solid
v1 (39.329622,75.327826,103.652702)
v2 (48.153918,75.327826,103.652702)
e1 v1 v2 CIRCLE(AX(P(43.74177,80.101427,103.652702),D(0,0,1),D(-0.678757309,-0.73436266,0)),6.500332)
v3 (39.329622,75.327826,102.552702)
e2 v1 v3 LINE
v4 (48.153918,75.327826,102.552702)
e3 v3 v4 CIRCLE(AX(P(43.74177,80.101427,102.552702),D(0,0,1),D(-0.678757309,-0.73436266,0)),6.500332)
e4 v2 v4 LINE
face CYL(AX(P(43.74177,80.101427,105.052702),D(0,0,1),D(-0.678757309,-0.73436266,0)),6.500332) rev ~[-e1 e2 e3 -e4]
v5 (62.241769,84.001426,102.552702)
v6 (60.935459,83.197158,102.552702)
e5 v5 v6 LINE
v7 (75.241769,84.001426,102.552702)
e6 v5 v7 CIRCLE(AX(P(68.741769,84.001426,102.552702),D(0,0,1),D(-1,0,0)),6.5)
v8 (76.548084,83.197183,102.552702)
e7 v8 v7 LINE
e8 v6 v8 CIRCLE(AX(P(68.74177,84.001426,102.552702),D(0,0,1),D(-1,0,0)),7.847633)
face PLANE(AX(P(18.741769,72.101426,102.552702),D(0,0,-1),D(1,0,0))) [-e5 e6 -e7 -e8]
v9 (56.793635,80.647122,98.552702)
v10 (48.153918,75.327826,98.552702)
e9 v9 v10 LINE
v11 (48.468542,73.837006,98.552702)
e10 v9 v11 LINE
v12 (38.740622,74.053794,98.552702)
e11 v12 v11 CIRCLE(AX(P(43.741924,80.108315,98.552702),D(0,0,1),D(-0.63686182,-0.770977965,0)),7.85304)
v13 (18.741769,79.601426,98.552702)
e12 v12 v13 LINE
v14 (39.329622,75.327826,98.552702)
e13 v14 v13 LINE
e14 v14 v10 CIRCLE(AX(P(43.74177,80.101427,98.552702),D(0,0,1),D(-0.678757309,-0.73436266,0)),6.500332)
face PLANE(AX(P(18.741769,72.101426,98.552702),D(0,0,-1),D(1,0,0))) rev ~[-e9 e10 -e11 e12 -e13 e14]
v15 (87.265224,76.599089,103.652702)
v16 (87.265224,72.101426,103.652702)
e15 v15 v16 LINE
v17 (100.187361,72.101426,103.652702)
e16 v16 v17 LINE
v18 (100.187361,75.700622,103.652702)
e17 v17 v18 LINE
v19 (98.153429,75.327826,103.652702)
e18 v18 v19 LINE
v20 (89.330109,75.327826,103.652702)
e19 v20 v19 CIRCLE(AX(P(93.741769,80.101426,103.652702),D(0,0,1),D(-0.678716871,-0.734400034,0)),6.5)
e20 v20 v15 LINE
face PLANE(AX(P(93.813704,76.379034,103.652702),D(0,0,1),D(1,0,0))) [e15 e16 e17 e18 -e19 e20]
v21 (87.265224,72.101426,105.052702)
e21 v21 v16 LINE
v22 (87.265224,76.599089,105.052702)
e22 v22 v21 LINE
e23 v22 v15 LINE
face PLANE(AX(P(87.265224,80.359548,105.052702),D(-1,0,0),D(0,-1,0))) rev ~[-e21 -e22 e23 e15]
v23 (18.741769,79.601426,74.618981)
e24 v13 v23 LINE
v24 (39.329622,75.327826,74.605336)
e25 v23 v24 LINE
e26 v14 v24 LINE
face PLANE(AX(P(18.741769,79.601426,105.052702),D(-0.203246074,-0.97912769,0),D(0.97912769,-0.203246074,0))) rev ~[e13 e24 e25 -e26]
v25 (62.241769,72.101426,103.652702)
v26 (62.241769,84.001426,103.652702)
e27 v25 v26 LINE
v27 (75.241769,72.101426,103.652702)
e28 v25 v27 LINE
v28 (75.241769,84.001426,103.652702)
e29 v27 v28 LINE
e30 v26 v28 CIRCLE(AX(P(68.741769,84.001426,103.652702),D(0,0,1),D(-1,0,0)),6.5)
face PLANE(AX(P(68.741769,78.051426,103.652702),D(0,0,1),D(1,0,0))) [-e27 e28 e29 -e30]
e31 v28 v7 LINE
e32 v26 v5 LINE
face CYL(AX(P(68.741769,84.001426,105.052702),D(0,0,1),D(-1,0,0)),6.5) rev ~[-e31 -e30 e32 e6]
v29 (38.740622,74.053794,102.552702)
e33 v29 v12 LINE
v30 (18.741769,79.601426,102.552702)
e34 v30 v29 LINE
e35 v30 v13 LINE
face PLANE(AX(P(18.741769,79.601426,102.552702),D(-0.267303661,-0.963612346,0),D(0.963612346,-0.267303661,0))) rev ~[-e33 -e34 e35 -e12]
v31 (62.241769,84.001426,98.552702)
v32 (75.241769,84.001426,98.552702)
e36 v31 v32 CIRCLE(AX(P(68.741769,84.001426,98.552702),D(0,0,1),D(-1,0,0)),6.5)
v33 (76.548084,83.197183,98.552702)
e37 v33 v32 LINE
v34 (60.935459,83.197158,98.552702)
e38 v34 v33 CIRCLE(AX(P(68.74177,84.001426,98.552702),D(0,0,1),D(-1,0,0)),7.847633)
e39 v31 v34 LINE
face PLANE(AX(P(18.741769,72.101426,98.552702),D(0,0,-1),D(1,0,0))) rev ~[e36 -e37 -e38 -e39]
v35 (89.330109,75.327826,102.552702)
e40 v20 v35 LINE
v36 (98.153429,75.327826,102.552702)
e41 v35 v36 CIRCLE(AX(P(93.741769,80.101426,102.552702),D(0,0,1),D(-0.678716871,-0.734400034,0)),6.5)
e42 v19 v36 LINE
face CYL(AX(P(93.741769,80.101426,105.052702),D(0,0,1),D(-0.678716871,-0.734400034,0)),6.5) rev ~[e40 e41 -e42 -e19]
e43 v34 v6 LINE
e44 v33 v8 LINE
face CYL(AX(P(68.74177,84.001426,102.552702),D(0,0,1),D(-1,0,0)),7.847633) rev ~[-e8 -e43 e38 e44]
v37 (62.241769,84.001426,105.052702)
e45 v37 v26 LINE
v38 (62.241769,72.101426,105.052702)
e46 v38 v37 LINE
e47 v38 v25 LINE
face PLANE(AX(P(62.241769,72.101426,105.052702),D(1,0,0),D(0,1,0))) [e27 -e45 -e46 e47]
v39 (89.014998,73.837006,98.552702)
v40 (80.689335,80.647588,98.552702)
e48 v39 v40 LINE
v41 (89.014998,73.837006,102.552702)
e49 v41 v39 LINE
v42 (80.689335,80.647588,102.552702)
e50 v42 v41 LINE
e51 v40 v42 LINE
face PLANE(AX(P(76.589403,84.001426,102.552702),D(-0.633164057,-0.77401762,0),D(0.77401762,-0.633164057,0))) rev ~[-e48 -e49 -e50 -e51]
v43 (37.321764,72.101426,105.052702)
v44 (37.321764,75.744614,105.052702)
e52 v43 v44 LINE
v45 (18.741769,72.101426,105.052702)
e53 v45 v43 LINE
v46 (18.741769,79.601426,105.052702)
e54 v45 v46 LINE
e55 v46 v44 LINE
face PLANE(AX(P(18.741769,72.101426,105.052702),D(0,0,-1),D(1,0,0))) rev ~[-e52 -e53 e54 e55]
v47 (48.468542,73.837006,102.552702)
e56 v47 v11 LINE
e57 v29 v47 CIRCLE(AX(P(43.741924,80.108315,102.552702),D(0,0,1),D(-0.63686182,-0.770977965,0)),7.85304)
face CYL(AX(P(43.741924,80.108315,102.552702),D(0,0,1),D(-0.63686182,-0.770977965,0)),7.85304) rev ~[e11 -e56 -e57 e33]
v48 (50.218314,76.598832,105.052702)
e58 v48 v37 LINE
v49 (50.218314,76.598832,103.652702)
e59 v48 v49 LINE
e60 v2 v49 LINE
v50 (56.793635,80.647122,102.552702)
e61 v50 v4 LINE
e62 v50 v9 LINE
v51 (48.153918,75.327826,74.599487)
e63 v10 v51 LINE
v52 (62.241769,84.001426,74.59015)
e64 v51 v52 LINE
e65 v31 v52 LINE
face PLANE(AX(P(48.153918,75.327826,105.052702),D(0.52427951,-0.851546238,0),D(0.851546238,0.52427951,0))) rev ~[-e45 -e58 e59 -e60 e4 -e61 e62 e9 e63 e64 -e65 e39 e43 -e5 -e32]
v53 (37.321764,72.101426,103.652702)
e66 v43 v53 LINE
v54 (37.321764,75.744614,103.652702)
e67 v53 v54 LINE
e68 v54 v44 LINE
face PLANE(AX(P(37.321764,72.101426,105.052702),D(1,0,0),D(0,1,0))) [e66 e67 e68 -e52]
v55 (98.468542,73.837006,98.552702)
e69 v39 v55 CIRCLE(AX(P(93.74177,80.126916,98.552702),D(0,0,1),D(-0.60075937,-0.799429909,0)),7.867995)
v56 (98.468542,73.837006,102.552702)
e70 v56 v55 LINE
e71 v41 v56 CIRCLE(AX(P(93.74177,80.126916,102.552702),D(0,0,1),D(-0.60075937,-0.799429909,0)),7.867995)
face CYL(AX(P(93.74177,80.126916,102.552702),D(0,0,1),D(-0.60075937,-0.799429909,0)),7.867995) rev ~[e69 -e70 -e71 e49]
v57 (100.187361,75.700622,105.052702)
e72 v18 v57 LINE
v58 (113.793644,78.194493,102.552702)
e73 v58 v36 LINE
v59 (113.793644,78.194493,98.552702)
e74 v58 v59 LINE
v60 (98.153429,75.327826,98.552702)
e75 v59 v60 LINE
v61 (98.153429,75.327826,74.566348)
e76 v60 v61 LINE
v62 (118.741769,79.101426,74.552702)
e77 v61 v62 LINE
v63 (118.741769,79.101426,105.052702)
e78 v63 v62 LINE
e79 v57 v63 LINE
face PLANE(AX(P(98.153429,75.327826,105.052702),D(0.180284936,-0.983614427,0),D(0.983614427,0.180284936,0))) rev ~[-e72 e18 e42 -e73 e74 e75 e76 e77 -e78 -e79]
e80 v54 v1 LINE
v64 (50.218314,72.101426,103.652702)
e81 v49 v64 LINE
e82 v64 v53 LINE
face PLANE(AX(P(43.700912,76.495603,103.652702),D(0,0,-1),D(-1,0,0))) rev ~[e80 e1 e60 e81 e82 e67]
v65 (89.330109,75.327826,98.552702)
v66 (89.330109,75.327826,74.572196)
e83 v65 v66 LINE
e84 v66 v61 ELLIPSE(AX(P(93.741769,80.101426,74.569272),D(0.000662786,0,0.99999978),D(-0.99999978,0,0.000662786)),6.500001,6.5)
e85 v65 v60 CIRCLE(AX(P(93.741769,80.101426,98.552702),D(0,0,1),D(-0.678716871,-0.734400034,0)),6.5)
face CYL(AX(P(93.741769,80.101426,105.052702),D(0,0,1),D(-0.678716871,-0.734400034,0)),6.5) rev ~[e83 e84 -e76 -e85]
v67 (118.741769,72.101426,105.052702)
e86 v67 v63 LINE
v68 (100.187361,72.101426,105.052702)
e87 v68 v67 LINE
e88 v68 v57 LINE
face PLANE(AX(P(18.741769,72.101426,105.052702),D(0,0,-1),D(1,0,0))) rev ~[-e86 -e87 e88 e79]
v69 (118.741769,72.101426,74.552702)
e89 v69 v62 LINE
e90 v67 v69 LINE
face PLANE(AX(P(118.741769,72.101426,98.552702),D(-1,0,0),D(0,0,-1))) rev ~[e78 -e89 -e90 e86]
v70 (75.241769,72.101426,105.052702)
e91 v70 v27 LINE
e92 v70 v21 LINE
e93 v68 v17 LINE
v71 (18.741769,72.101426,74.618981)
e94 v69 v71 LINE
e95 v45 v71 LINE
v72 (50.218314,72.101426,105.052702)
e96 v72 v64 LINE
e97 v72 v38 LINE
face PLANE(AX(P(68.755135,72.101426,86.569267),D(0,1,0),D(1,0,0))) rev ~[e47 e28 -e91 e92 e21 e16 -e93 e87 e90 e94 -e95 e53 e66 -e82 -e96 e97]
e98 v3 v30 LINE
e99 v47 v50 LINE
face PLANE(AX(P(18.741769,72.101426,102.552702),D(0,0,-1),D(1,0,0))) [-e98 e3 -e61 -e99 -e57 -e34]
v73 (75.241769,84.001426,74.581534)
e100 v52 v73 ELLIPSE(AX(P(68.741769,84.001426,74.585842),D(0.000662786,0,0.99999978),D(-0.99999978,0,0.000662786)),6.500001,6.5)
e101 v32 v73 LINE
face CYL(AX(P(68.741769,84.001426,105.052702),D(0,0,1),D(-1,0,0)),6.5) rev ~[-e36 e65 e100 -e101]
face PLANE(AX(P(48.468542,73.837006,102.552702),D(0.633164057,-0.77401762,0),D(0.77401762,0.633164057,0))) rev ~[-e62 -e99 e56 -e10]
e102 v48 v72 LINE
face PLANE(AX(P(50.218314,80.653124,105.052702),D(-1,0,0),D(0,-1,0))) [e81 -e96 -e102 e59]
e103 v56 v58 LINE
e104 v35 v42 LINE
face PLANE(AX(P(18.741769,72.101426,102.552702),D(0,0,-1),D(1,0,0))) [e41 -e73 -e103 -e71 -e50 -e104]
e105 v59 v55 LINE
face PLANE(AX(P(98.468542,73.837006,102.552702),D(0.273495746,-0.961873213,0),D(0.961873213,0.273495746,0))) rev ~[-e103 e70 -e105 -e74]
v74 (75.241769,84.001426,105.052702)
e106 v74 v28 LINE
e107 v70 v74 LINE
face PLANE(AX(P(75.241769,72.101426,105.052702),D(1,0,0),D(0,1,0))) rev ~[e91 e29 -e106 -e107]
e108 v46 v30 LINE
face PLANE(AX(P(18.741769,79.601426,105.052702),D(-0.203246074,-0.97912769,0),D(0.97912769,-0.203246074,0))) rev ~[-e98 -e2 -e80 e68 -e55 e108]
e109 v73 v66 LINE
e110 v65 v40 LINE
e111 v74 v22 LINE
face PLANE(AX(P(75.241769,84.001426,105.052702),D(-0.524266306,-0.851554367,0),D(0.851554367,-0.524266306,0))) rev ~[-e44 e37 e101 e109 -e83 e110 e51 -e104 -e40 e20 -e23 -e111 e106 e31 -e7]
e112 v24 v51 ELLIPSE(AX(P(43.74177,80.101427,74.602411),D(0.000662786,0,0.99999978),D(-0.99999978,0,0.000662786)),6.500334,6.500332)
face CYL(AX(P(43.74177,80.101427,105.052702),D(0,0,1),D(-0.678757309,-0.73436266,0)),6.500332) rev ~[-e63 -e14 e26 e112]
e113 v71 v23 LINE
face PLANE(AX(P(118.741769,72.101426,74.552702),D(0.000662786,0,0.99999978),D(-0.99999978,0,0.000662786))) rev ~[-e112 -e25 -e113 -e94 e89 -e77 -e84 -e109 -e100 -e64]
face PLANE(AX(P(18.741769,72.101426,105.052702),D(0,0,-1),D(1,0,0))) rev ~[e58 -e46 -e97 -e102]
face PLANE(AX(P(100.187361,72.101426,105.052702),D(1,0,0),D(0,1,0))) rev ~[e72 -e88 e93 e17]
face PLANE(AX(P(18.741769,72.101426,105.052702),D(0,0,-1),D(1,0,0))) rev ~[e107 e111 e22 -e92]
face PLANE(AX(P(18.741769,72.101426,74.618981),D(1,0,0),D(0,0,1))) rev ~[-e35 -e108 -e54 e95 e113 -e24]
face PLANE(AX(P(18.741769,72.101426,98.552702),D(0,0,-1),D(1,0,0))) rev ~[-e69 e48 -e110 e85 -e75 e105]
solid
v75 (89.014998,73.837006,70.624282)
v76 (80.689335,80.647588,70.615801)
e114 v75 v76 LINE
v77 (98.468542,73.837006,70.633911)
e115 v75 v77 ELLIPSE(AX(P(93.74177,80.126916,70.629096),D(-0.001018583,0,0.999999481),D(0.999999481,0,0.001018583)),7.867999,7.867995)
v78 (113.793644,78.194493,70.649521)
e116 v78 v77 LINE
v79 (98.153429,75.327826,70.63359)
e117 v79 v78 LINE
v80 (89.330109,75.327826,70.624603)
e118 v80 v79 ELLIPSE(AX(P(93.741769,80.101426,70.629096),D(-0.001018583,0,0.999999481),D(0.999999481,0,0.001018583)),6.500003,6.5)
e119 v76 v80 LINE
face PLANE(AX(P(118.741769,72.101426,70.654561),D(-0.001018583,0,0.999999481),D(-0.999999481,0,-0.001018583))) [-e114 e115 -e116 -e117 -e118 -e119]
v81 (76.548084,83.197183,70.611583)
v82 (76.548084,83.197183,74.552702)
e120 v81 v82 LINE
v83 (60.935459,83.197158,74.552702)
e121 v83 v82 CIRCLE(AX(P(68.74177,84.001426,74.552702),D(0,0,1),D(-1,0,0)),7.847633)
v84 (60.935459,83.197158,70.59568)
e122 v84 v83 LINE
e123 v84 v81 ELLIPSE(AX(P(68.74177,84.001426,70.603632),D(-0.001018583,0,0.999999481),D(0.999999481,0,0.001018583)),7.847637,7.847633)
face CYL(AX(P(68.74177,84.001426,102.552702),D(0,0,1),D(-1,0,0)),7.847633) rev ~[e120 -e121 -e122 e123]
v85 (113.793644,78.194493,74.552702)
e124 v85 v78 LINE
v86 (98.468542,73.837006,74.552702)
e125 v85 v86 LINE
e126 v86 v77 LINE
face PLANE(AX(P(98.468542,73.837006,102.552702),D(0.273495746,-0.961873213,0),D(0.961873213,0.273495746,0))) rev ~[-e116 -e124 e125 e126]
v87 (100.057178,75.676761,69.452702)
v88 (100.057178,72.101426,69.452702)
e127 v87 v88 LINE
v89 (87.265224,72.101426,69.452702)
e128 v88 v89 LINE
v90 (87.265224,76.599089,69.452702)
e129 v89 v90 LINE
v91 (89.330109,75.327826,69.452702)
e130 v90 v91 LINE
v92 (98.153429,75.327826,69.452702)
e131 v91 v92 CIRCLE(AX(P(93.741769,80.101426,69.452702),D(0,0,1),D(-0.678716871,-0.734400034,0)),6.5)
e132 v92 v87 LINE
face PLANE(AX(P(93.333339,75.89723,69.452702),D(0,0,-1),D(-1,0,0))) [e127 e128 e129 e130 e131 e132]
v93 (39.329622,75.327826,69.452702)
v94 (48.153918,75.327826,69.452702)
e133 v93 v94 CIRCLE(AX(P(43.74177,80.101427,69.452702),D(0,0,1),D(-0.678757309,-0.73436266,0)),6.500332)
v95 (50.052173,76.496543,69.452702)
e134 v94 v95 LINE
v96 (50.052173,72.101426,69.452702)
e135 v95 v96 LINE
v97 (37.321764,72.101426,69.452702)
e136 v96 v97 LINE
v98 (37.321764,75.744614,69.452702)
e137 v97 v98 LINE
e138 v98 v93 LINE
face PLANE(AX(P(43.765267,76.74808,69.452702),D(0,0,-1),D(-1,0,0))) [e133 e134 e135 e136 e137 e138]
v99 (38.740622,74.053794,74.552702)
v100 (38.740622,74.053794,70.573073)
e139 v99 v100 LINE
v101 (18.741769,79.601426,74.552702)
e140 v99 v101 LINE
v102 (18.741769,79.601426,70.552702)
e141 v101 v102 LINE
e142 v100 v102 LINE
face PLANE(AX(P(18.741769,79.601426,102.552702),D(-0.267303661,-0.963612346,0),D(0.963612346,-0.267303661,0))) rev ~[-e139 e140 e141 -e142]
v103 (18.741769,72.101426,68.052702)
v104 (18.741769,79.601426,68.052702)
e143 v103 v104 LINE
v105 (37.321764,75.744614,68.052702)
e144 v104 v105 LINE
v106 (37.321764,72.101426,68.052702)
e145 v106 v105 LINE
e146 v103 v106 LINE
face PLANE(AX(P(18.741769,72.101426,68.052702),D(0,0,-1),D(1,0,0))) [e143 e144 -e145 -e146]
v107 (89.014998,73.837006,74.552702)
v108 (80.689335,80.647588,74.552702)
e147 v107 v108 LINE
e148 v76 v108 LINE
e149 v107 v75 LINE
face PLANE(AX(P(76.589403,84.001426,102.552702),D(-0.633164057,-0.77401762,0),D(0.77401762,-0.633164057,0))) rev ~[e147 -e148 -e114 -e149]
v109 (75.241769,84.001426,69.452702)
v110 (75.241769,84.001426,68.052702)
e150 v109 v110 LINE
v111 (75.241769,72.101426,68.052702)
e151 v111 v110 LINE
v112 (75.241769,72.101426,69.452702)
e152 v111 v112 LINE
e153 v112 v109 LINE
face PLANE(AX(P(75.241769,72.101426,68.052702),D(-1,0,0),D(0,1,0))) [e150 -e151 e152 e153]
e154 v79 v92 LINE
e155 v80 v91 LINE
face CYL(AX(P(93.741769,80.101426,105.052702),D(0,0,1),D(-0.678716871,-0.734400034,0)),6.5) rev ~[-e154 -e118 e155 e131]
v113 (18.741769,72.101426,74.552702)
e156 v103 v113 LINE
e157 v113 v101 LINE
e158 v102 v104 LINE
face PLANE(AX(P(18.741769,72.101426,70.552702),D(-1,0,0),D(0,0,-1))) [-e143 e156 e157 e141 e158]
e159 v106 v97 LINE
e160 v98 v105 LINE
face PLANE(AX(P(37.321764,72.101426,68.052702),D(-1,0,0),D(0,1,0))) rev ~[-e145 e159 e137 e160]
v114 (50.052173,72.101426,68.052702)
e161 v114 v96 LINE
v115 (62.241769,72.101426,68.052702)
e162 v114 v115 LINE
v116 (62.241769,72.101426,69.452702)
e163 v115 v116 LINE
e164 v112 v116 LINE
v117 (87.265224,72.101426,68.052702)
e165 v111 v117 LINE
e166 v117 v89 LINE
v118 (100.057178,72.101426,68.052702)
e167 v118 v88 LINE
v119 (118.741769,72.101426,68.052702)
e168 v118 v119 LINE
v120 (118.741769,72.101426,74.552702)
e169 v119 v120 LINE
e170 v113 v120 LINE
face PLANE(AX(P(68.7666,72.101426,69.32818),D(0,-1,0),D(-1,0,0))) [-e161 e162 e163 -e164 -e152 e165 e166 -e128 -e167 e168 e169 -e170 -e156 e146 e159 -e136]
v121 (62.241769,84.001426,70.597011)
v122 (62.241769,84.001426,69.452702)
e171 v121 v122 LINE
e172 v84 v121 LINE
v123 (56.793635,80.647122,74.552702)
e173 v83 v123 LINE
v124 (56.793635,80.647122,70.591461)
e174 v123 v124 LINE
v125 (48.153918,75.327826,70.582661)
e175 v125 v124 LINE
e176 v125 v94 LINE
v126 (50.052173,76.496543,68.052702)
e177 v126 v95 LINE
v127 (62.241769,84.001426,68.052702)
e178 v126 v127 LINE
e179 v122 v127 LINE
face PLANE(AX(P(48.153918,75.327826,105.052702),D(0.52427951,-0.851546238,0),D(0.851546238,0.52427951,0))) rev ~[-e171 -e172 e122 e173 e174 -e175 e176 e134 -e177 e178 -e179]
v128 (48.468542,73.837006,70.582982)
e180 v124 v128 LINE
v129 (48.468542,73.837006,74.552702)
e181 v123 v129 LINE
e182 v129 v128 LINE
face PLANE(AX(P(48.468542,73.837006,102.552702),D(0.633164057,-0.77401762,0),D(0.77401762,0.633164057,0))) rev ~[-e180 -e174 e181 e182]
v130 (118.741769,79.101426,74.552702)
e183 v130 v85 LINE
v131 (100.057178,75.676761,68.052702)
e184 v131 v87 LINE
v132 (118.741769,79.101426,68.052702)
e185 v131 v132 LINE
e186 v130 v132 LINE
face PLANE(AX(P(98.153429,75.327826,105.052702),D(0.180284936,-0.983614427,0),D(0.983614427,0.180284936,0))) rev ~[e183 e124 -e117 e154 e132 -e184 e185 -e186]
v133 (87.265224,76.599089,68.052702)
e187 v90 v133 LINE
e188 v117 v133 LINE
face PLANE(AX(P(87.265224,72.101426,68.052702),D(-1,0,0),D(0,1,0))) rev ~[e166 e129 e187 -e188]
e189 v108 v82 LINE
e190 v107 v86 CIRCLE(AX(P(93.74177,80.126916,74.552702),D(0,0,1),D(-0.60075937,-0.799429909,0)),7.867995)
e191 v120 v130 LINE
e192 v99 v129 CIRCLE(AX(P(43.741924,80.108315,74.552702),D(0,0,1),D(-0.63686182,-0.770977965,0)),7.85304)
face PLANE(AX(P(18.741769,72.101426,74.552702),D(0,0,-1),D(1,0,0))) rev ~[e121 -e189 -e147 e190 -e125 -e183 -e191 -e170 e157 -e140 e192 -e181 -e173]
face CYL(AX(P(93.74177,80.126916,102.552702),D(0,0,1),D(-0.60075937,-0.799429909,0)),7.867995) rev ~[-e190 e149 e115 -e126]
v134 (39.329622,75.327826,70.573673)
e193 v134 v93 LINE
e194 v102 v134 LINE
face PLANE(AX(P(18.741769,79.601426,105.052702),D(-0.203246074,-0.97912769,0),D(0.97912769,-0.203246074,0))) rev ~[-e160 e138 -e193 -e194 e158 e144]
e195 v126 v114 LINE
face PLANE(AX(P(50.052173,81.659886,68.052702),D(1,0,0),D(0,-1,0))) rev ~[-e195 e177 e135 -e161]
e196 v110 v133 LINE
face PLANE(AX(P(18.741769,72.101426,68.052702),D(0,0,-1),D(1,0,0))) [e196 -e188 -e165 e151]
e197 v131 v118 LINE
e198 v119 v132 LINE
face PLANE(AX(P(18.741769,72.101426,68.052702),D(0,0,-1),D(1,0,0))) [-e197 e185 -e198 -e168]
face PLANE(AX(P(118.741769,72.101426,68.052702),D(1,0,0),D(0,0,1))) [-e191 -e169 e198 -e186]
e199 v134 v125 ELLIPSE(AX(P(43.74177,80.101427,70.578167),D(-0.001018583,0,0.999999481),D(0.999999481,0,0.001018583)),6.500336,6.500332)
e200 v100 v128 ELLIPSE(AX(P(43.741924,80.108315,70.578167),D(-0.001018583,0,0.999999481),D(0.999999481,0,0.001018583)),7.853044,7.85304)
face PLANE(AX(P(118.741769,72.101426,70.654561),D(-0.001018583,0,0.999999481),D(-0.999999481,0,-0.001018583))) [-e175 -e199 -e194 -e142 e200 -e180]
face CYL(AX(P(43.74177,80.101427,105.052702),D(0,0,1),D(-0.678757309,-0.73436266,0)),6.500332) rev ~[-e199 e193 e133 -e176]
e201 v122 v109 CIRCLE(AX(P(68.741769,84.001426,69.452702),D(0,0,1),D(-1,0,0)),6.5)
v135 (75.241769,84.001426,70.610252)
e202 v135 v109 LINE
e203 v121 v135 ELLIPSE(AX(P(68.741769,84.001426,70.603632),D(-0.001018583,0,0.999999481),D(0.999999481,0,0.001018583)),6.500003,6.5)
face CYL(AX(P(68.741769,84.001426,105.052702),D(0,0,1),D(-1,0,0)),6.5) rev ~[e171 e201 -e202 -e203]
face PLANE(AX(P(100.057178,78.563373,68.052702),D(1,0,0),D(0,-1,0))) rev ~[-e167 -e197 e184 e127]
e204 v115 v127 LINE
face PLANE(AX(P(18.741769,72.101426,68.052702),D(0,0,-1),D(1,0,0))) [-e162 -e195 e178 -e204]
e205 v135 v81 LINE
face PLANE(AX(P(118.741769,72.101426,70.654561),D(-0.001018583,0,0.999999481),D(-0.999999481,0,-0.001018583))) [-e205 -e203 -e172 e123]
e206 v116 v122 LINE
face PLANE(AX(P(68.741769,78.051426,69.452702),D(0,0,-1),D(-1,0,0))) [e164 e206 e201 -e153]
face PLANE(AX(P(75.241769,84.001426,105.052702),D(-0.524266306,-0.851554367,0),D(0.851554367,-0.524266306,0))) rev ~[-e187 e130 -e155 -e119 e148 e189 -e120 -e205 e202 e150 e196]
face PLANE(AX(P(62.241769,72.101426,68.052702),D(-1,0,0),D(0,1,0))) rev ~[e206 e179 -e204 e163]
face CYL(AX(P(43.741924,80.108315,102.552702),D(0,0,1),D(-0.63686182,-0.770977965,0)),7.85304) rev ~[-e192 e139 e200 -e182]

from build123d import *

# Parameters (mm, degrees)
SKETCH_1_W          = 100
SKETCH_1_H          = 4
EXTRUDE_1_DEPTH     = 15
EXTRUDE_1_2_DEPTH   = 15
CUT_EXTRUDE_1_DEPTH = 32
SKETCH_3_W          = 100
SKETCH_3_H          = 2.5
EXTRUDE_2_DEPTH     = 15
CUT_EXTRUDE_5_DEPTH = 37
SKETCH_5_W          = 13
SKETCH_5_H          = 11.9
CUT_EXTRUDE_6_DEPTH = 1.4
SKETCH_6_W          = 13
SKETCH_6_H          = 11.9
CUT_EXTRUDE_7_DEPTH = 1.4


with BuildPart() as part:
    # Эскиз1 → Бобышка-Вытянуть1 (new body)
    with BuildSketch(Plane(origin=(0, 72.101425994, 0), x_dir=(1, 0, 0), z_dir=(0, 1, 0))):
        with Locations((68.741769048, -100.552702475)):
            Rectangle(SKETCH_1_W, SKETCH_1_H)
    extrude(amount=EXTRUDE_1_DEPTH)


with BuildPart() as body_2:
    # Эскиз1 → Extrude 1 2 (new body)
    with BuildSketch(Plane(origin=(0, 72.101425994, 0), x_dir=(1, 0, 0), z_dir=(0, 1, 0))):
        with Locations((68.741769048, -72.552702475)):
            Rectangle(SKETCH_1_W, SKETCH_1_H)
    extrude(amount=EXTRUDE_1_2_DEPTH)


with BuildPart() as cut_extrude_1_tool:
    # Эскиз2 → Вырез-Вытянуть1 (new body)
    with BuildSketch(Plane.XY.offset(102.552702475)):
        with BuildLine():
            Line((18.741769048, 87.101425994), (18.741769048, 79.601425994))
            Line((18.741769048, 79.601425994), (38.7406223, 74.053793994))
            ThreePointArc((38.7406223, 74.053793994), (43.566960712, 72.257224124), (48.468541666, 73.837005729))
            Line((48.468541666, 73.837005729), (60.894137048, 84.001425994))
            ThreePointArc((60.894137048, 84.001425994), (68.741770048, 76.153792994), (76.589403048, 84.001425994))
            Line((76.589403048, 84.001425994), (89.014998431, 73.837005729))
            ThreePointArc((89.014998431, 73.837005729), (93.741770048, 72.25892129), (98.468541666, 73.837005729))
            Line((98.468541666, 73.837005729), (118.741769048, 79.601425994))
            Line((118.741769048, 79.601425994), (118.741769048, 87.101425994))
            Line((118.741769048, 87.101425994), (18.741769048, 87.101425994))
        make_face()
    extrude(amount=-CUT_EXTRUDE_1_DEPTH)


with BuildPart() as part_1:
    add(part.part)

    # Вырез-Вытянуть1: cut by cut_extrude_1_tool
    add(cut_extrude_1_tool.part, mode=Mode.SUBTRACT)



with BuildPart() as body_2_1:
    add(body_2.part)

    # Вырез-Вытянуть1: cut by cut_extrude_1_tool
    add(cut_extrude_1_tool.part, mode=Mode.SUBTRACT)


with BuildPart() as part_2:
    add(part_1.part)

    add(body_2_1.part)  # Бобышка-Вытянуть2 merges body 2
    # Эскиз3 → Бобышка-Вытянуть2 (add)
    with BuildSketch(Plane(origin=(0, 72.101425994, 0), x_dir=(1, 0, 0), z_dir=(0, 1, 0))):
        Polygon((18.741769048, -70.552702475), (18.741769048, -68.052702475), (118.741769048, -68.052702475), (118.741769048, -70.654560826), align=None)
        Polygon((18.741769048, -74.618981064), (18.741769048, -98.552702475), (118.741769048, -98.552702475), (118.741769048, -74.552702475), align=None)
        with Locations((68.741769048, -103.802702475)):
            Rectangle(SKETCH_3_W, SKETCH_3_H)
    extrude(amount=EXTRUDE_2_DEPTH)

    # Эскиз4 → Вырез-Вытянуть5 (cut)
    with BuildSketch(Plane.XY.offset(105.052702475)):
        with BuildLine():
            Line((18.741769048, 79.601425994), (39.329622083, 75.327825775))
            ThreePointArc((39.329622083, 75.327825775), (43.741770048, 73.601094828), (48.153918014, 75.327825775))
            Line((48.153918014, 75.327825775), (62.241769048, 84.001425994))
            ThreePointArc((62.241769048, 84.001425994), (68.741769048, 77.501425994), (75.241769048, 84.001425994))
            Line((75.241769048, 84.001425994), (89.330109389, 75.327825775))
            ThreePointArc((89.330109389, 75.327825775), (93.741769048, 73.601425994), (98.153428707, 75.327825775))
            Line((98.153428707, 75.327825775), (118.741769048, 79.101425994))
            Line((118.741769048, 79.101425994), (118.741769048, 87.101425994))
            Line((118.741769048, 87.101425994), (18.741769048, 87.101425994))
            Line((18.741769048, 87.101425994), (18.741769048, 79.601425994))
        make_face()
    extrude(amount=-CUT_EXTRUDE_5_DEPTH, mode=Mode.SUBTRACT)

    # Эскиз5 → Вырез-Вытянуть6 (cut)
    with BuildSketch(Plane.XY.offset(105.052702475)):
        with Locations((68.741769048, 78.051425994)):
            Rectangle(SKETCH_5_W, SKETCH_5_H)
        Polygon((100.187361471, 80.940674659), (87.265224484, 80.359547889), (87.265224484, 72.101425994), (100.187361471, 72.101425994), align=None)
        Polygon((50.218313612, 80.653123839), (37.321764311, 81.118057283), (37.321764311, 72.101425994), (50.218313612, 72.101425994), align=None)
    extrude(amount=-CUT_EXTRUDE_6_DEPTH, mode=Mode.SUBTRACT)

    # Эскиз6 → Вырез-Вытянуть7 (cut)
    with BuildSketch(Plane(origin=(0, 0, 68.052702475), x_dir=(-1, 0, 0), z_dir=(0, 0, -1))):
        Polygon((-100.057178334, 78.563373472), (-100.057178334, 72.101425994), (-87.265224484, 72.101425994), (-87.265224484, 80.653123839), align=None)
        with Locations((-68.741769048, 78.051425994)):
            Rectangle(SKETCH_6_W, SKETCH_6_H)
        Polygon((-50.05217336, 81.659885945), (-50.05217336, 72.101425994), (-37.321764311, 72.101425994), (-37.321764311, 81.118057283), align=None)
    extrude(amount=-CUT_EXTRUDE_7_DEPTH, mode=Mode.SUBTRACT)


solid = part_2.part
